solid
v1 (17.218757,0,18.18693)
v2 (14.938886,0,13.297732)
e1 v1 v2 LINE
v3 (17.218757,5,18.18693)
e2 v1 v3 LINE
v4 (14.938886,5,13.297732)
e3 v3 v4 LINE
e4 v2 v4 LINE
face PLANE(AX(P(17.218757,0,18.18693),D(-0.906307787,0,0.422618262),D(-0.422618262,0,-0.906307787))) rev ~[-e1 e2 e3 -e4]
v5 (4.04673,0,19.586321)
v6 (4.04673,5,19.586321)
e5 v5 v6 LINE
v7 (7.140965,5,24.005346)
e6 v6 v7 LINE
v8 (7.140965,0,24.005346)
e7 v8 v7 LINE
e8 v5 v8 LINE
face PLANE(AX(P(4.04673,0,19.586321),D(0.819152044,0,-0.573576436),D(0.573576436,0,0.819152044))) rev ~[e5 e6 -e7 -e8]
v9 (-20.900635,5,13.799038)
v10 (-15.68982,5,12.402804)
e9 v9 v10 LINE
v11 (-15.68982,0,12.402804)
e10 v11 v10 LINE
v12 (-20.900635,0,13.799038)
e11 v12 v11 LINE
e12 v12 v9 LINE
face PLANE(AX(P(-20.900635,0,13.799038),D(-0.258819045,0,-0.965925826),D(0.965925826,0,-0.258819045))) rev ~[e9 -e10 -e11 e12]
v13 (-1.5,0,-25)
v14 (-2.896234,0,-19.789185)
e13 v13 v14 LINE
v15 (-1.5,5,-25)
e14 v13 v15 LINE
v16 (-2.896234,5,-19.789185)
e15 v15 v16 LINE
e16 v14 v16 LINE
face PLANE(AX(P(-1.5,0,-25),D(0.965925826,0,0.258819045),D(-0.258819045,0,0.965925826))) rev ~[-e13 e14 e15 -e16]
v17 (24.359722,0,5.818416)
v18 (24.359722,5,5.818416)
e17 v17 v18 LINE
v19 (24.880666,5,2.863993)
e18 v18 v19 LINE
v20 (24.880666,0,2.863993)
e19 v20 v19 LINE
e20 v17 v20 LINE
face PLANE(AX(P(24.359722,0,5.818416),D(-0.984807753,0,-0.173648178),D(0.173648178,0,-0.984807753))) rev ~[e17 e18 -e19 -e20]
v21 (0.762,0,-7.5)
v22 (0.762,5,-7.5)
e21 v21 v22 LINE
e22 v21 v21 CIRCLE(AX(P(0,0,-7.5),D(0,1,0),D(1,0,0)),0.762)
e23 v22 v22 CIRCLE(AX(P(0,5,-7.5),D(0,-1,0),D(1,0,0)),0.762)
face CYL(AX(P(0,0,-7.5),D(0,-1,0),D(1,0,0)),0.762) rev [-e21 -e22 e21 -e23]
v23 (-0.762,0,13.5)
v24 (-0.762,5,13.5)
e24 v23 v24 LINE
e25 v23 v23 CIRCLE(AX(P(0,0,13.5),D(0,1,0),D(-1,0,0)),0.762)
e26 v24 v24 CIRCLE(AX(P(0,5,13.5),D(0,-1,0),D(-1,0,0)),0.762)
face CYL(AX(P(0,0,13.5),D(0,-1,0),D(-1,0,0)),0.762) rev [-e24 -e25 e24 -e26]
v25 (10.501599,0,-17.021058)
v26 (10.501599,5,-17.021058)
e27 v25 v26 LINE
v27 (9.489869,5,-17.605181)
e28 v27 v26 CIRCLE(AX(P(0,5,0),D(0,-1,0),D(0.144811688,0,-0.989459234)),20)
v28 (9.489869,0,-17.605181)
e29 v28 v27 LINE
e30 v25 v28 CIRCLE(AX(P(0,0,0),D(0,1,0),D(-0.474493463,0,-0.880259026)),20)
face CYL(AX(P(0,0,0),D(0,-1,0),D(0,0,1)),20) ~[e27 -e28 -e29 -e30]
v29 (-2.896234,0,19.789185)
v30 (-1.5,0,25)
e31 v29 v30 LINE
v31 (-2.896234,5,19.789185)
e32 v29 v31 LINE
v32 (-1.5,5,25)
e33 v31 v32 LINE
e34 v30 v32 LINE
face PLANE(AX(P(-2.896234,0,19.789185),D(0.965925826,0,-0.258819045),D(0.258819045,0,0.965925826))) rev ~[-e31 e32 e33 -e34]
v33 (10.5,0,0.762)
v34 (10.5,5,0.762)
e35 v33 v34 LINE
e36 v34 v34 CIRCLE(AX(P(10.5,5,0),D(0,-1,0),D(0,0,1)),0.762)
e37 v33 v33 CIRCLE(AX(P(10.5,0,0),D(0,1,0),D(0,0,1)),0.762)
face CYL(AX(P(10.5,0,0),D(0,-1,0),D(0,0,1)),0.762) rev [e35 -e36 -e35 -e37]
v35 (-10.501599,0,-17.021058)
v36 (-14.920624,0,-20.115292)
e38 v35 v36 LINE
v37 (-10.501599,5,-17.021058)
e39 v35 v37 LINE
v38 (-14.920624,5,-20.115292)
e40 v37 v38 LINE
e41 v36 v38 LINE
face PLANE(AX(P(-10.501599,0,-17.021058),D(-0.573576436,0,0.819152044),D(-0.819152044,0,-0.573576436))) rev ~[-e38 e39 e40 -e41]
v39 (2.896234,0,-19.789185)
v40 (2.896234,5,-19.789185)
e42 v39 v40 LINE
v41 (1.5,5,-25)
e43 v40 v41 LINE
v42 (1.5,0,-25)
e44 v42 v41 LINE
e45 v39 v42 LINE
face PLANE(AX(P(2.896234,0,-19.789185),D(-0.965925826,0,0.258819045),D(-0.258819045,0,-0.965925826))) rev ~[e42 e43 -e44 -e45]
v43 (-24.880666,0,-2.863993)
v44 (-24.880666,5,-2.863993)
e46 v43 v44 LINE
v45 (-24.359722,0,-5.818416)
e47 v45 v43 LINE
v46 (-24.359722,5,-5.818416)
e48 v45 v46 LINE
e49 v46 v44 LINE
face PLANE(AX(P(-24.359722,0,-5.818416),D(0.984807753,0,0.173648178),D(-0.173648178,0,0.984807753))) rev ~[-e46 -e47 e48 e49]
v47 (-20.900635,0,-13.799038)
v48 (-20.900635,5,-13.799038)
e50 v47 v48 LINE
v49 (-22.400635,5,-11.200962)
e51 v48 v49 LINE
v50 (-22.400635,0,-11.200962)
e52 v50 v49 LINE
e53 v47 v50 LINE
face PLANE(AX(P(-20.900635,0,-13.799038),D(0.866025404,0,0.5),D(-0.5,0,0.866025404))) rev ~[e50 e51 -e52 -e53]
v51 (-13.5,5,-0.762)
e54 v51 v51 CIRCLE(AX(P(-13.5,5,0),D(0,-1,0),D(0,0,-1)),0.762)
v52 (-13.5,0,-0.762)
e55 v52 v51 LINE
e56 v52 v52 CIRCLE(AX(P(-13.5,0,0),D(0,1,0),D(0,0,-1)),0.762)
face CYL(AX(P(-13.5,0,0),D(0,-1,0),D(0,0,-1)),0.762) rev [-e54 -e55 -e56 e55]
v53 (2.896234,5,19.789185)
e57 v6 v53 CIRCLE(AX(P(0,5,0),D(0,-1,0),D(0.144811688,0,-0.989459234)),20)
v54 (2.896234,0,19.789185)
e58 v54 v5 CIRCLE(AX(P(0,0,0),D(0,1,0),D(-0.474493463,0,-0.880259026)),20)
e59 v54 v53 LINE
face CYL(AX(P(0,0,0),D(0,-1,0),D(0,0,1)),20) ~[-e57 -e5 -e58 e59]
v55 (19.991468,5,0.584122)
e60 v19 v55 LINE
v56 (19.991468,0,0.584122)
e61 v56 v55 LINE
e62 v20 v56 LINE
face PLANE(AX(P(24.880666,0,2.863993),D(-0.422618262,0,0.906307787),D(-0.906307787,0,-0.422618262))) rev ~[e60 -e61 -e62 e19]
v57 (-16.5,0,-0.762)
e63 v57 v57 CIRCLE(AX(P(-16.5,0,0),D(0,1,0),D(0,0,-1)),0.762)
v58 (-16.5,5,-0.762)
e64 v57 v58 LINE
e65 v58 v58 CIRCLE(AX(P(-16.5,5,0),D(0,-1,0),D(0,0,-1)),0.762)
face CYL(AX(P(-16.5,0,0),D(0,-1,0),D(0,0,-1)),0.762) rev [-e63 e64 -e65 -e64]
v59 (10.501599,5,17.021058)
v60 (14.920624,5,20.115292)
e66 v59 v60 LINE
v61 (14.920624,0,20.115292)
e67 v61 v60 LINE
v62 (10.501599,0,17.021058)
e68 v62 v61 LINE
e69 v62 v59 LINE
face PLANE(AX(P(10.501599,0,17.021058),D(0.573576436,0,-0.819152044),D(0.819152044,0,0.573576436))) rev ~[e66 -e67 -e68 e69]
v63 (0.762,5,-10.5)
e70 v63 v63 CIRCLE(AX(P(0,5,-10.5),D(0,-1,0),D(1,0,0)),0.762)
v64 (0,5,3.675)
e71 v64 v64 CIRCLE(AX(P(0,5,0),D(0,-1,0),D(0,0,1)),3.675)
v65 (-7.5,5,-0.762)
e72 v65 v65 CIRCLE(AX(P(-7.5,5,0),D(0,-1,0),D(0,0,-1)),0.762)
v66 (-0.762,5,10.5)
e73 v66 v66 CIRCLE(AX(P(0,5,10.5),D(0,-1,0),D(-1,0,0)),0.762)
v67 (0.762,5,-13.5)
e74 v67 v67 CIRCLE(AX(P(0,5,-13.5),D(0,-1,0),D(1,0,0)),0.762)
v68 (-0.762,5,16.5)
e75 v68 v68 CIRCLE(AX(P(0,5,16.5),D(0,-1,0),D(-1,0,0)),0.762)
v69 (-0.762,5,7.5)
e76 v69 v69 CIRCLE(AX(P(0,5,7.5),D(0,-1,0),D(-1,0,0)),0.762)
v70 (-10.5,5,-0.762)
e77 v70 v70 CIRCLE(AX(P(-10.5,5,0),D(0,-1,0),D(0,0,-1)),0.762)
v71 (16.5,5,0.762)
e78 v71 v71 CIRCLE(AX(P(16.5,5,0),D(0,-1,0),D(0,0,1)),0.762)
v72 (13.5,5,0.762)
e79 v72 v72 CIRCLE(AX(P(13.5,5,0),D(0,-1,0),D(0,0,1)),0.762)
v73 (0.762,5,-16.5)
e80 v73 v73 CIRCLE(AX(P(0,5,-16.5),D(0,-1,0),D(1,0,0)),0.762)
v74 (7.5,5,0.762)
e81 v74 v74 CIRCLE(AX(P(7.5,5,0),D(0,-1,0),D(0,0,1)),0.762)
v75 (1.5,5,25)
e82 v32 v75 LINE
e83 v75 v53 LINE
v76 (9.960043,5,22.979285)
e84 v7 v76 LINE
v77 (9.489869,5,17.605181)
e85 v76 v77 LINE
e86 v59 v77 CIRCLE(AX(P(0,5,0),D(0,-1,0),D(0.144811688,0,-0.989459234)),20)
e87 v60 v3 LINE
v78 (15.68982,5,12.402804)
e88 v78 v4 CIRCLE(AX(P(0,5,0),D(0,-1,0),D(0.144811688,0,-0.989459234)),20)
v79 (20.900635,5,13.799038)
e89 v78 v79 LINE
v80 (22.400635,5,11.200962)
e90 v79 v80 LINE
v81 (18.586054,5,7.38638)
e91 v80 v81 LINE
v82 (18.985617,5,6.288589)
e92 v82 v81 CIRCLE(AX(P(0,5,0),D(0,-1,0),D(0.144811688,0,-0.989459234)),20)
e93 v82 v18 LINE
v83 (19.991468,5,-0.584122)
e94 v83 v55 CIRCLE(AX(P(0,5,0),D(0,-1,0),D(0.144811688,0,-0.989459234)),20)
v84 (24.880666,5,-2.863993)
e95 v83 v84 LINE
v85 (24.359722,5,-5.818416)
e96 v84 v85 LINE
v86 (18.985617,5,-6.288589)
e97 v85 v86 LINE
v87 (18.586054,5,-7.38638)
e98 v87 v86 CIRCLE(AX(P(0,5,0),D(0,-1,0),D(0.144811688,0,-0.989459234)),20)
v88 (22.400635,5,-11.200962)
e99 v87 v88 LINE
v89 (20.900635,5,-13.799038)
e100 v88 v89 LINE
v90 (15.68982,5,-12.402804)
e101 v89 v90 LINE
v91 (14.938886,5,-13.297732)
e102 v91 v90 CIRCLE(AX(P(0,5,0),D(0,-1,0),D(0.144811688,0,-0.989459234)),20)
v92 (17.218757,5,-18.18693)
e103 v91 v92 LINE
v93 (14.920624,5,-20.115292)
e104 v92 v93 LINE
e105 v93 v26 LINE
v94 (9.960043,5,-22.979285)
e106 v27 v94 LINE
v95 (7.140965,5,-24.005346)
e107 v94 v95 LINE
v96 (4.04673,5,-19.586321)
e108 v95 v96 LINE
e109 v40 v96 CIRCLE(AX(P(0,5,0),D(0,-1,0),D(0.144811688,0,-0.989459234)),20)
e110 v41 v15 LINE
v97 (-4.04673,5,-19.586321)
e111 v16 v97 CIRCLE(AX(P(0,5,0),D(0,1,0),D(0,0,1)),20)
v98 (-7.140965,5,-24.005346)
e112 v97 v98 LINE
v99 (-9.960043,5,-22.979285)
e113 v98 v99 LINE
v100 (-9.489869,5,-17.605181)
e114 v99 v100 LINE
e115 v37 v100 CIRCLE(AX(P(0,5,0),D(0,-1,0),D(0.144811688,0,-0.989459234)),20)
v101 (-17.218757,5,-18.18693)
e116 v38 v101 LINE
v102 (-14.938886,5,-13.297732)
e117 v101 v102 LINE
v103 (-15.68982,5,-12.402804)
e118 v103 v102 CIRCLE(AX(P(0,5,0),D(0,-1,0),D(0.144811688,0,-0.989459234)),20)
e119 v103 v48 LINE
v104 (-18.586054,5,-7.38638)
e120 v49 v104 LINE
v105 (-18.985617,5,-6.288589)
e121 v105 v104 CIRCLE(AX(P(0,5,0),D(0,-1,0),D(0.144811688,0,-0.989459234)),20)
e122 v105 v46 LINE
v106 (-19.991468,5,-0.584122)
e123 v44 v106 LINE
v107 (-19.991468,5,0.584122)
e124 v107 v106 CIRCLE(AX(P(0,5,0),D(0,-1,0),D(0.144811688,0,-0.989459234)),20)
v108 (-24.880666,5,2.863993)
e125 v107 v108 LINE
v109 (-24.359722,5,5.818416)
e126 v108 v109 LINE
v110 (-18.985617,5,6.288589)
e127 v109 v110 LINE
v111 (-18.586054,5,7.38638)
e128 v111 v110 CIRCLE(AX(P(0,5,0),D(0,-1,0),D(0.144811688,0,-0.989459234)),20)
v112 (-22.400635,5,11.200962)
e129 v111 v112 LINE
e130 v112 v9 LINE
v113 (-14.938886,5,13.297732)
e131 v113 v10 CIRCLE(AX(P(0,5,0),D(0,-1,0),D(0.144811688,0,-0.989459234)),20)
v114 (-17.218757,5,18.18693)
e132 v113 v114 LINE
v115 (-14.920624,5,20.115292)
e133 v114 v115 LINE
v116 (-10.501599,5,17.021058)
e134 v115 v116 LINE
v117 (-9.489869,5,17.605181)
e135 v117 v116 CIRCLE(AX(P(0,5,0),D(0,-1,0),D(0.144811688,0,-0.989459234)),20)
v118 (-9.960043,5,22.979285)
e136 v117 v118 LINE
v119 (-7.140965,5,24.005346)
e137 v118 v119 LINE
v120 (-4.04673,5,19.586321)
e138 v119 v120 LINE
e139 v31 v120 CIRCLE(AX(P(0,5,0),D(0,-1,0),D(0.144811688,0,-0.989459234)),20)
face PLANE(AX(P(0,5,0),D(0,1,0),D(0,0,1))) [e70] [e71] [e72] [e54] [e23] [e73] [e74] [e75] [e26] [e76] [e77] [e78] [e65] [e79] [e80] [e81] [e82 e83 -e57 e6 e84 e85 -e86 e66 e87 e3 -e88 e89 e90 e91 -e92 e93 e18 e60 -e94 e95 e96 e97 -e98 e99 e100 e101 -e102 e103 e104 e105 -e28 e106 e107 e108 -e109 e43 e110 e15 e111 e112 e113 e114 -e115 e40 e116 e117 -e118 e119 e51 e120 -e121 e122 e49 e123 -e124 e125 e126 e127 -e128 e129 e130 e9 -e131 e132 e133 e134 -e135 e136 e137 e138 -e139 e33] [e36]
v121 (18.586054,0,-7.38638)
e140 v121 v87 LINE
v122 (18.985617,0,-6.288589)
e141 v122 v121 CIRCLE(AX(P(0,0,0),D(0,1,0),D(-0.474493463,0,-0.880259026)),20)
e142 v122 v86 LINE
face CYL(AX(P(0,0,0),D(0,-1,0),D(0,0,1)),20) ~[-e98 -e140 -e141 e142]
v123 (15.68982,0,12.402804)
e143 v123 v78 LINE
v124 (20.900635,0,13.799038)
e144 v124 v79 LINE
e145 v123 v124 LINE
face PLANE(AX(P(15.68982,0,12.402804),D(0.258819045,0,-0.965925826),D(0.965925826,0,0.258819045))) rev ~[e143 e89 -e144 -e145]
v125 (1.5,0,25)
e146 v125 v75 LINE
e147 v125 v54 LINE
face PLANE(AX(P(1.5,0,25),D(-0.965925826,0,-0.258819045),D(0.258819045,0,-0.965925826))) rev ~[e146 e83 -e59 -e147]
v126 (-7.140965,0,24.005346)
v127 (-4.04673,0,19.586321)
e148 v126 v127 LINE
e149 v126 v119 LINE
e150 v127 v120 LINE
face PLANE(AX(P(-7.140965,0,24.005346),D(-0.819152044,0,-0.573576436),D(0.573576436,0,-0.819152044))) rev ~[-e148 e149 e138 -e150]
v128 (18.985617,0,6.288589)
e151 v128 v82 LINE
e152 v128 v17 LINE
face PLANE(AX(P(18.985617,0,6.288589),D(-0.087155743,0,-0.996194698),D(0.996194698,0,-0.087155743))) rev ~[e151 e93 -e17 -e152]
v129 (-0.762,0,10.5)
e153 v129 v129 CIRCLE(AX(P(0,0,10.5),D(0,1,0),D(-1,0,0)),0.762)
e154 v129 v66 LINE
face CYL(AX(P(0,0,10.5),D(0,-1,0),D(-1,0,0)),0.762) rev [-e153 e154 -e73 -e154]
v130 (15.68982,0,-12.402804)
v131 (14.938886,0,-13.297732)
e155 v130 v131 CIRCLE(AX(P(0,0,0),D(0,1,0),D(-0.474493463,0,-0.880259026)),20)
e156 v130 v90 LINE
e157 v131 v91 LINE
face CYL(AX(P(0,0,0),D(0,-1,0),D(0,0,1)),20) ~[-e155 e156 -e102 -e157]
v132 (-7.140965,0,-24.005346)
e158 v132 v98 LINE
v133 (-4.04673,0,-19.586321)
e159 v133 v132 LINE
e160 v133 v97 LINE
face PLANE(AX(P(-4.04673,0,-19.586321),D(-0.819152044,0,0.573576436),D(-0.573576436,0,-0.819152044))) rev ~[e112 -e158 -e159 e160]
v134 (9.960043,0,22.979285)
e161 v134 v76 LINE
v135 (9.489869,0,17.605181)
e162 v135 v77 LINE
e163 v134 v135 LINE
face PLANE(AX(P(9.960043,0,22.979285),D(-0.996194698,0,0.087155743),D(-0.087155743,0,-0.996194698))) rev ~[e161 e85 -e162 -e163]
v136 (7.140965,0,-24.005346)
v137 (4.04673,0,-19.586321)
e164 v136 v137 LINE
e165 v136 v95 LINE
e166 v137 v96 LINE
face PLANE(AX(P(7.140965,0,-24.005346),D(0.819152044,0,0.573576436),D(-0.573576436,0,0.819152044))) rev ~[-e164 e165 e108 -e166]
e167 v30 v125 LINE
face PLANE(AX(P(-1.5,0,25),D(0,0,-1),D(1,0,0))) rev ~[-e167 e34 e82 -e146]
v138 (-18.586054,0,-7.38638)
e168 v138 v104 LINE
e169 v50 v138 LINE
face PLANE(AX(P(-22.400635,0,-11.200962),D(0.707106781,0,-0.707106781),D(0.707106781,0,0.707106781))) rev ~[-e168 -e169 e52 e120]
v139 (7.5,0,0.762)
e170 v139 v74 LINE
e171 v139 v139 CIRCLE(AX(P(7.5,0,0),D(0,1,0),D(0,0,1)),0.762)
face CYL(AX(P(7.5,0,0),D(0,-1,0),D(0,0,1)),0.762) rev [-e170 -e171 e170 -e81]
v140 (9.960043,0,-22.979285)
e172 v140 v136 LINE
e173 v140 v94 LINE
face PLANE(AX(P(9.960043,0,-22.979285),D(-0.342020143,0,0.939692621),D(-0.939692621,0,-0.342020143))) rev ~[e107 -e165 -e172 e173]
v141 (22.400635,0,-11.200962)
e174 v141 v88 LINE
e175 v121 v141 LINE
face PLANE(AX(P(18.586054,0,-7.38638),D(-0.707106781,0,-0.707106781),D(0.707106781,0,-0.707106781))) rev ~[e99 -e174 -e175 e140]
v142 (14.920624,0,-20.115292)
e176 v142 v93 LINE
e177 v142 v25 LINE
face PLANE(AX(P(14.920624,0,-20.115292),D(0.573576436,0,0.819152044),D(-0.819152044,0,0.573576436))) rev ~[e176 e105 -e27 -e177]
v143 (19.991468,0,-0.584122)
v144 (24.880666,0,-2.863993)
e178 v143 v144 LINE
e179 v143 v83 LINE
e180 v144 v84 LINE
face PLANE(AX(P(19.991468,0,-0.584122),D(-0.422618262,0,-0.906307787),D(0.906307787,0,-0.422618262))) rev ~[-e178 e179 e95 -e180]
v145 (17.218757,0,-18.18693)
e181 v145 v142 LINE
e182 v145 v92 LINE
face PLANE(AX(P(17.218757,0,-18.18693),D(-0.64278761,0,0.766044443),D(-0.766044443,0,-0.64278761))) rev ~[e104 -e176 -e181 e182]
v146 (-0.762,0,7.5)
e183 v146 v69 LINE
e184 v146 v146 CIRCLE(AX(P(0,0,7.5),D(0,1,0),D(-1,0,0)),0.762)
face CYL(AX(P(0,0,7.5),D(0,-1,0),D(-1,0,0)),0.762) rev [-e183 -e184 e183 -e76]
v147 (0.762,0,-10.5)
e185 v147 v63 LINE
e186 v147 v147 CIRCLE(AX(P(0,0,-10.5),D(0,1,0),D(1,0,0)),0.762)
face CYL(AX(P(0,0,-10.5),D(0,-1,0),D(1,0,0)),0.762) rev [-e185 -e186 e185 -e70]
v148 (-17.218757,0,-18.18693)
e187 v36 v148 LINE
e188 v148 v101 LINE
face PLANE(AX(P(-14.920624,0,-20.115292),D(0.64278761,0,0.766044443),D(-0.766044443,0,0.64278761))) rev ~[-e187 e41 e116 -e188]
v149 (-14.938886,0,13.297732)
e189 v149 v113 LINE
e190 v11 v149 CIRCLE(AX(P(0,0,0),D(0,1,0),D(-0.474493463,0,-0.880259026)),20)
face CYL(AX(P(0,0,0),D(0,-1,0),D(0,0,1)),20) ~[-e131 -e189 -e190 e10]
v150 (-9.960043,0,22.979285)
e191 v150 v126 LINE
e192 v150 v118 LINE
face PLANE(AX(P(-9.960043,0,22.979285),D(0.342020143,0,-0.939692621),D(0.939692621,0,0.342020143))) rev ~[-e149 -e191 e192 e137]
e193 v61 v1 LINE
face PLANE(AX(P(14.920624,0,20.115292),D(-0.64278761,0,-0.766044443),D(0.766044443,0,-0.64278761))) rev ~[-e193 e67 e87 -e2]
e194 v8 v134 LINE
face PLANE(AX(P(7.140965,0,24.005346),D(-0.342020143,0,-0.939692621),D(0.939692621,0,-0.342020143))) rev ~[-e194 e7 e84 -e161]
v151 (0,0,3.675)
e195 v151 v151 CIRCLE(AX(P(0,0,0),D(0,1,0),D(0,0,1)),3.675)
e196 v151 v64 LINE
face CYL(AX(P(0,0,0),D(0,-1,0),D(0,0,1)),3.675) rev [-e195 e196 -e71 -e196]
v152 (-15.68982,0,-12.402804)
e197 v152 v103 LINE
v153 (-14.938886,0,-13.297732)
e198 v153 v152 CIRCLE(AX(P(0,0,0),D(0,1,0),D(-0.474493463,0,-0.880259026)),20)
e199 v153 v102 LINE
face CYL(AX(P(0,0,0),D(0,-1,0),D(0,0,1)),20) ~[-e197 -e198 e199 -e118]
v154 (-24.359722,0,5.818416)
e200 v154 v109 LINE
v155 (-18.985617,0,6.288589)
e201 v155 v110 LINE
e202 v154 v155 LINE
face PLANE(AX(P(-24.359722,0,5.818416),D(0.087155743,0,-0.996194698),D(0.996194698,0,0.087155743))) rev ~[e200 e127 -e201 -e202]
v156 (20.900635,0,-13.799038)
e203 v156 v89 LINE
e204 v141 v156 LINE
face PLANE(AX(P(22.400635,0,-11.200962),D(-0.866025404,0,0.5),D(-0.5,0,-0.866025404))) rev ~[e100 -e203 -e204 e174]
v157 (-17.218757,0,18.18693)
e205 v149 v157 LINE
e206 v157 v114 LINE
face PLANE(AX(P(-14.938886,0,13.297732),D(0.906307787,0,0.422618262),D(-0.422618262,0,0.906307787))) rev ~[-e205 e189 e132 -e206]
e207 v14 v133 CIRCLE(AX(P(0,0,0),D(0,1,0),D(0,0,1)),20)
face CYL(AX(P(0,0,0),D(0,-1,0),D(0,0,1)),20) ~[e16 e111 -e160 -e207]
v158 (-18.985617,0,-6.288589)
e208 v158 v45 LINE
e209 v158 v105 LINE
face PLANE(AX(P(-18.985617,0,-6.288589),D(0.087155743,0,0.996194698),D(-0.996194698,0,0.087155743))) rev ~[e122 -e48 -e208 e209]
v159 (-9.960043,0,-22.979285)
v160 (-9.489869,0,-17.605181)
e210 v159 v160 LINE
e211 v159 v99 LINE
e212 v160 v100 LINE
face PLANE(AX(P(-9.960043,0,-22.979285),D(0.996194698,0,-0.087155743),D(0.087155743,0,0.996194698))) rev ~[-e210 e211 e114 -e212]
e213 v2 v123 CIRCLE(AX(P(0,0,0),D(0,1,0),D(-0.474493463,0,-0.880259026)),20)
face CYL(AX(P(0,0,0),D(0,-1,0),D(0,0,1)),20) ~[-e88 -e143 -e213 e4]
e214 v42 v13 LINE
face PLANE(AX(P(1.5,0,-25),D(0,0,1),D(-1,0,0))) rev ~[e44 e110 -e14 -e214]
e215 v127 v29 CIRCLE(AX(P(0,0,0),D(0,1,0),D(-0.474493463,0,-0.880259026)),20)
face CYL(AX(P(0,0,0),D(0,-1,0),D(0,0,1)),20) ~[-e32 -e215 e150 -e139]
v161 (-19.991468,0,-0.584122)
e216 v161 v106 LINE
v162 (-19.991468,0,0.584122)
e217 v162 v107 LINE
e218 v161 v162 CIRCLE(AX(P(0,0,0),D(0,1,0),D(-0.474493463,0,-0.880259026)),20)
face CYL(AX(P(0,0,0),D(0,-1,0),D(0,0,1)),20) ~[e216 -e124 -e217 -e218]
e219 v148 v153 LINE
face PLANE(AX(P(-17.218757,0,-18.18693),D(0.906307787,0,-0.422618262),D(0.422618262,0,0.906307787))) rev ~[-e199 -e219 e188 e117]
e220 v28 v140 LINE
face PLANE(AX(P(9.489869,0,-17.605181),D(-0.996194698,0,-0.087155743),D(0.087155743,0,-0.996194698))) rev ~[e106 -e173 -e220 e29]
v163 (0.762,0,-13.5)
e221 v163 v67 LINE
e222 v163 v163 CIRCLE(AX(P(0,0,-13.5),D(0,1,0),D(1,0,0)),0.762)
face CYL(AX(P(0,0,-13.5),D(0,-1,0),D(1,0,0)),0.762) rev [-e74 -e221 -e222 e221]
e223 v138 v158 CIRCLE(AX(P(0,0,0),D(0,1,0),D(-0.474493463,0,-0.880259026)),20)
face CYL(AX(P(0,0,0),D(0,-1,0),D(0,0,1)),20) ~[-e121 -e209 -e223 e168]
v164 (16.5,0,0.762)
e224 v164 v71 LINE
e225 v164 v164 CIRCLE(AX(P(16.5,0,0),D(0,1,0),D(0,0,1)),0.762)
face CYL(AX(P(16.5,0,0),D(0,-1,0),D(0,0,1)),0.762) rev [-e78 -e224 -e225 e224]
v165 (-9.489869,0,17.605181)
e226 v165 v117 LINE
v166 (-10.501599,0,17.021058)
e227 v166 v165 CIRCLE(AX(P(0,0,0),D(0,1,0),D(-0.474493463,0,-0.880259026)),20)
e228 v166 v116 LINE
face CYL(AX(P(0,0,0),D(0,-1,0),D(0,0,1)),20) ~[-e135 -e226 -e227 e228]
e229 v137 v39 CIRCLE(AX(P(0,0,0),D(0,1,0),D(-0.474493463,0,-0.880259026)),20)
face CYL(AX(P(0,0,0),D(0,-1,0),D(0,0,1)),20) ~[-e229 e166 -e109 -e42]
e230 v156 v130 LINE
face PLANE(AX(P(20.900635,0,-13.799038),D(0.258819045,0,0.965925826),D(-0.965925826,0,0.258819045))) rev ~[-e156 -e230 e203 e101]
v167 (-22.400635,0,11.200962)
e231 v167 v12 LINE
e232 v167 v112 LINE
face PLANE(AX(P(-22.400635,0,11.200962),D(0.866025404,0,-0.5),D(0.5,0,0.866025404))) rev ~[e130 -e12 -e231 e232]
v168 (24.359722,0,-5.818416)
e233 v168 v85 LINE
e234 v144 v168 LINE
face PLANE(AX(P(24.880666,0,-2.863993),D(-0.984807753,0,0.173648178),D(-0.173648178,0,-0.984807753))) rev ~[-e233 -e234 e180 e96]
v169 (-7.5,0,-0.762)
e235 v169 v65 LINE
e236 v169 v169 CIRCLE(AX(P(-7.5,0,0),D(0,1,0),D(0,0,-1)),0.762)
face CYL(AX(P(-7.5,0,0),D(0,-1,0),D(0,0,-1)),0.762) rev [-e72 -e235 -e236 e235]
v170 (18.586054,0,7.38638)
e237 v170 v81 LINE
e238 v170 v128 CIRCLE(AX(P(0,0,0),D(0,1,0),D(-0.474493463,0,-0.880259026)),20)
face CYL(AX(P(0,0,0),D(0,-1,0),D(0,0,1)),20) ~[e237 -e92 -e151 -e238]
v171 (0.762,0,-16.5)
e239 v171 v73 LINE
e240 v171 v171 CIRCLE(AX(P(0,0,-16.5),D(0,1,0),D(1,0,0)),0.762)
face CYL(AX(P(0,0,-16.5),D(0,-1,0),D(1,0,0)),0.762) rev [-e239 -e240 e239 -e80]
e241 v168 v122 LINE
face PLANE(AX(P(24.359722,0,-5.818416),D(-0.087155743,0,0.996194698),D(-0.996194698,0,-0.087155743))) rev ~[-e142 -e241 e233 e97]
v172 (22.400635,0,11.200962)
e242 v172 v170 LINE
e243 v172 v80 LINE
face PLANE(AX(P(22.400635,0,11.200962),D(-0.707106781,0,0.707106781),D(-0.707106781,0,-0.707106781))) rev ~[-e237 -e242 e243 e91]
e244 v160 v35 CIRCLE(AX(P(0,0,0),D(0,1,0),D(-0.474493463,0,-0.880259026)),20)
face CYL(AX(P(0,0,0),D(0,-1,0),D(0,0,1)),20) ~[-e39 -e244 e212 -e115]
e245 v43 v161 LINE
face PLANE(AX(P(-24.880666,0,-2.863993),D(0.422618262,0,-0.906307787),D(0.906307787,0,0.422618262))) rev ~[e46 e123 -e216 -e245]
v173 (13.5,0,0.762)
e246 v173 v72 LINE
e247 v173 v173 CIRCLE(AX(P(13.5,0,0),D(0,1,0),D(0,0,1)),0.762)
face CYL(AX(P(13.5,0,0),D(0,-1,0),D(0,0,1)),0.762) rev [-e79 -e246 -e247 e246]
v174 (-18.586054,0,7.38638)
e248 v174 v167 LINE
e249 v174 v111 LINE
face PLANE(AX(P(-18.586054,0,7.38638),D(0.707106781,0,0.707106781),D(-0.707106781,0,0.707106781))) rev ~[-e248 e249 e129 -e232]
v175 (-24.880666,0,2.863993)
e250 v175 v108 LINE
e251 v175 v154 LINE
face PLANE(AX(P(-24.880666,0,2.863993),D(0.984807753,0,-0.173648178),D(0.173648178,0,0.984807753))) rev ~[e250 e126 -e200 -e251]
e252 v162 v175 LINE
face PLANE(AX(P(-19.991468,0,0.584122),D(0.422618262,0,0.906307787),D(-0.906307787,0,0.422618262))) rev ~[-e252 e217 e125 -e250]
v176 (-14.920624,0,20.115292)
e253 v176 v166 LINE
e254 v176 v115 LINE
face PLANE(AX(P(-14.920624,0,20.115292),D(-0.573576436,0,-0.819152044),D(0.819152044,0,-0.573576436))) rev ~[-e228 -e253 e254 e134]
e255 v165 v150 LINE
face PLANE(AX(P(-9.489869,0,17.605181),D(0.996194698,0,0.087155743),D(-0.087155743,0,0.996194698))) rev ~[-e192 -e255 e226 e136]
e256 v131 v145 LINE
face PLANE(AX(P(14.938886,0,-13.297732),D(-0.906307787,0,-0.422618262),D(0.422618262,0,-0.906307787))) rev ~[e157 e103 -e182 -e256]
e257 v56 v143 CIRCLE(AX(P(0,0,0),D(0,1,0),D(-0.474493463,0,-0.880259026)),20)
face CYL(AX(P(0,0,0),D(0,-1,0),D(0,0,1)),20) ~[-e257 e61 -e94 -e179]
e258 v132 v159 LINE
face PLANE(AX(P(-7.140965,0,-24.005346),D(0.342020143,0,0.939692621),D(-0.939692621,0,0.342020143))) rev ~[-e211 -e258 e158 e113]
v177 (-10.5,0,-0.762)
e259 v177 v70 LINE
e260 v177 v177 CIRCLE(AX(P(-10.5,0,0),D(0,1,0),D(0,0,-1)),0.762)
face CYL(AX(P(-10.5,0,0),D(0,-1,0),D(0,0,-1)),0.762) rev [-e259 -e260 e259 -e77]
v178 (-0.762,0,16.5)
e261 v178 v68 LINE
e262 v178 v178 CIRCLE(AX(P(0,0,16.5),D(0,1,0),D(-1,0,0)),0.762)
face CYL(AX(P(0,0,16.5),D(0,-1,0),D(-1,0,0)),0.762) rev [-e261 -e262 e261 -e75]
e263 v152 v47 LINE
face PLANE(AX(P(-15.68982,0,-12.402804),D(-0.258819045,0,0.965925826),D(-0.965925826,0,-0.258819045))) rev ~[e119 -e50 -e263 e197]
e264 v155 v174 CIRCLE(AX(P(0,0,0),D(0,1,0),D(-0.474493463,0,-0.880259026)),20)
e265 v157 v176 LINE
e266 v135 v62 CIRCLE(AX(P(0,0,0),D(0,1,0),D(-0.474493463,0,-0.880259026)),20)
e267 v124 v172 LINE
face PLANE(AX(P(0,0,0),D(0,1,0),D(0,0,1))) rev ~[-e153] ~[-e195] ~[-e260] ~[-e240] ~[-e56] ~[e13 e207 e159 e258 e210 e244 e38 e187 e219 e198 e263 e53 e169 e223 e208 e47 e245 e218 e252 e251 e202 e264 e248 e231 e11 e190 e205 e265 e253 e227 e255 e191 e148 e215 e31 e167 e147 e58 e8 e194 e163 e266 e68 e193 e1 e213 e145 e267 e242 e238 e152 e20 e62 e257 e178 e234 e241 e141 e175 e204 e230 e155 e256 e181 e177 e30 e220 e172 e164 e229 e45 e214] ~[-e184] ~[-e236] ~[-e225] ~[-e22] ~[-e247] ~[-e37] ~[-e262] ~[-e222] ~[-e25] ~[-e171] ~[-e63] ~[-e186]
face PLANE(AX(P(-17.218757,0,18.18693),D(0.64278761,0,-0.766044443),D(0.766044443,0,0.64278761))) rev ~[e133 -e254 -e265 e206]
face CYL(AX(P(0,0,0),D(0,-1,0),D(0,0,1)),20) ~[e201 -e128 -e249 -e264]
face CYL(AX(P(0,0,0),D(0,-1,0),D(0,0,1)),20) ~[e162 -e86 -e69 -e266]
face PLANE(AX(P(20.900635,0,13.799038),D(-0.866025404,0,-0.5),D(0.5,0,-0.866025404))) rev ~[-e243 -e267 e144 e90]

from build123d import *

# Parameters (mm, degrees)
SKETCH2_R           = 20
BOSS_EXTRUDE1_DEPTH = 5
BOSS_EXTRUDE2_DEPTH = 5
CIRPATTERN1_COUNT   = 18
SKETCH3_R           = 3.675
SKETCH3_R_2         = 0.762
CUT_EXTRUDE1_DEPTH  = 36.623693592
CIRPATTERN2_COUNT   = 4


with BuildPart() as part:
    # Sketch2 → Boss-Extrude1 (new body)
    with BuildSketch(Plane(origin=(0, 0, 0), x_dir=(1, 0, 0), z_dir=(0, 1, 0))):
        Circle(SKETCH2_R)
    extrude(amount=BOSS_EXTRUDE1_DEPTH)

    # Sketch2<3> → Boss-Extrude2 (add)
    with BuildSketch(Plane(origin=(0, 0, 0), x_dir=(1, 0, 0), z_dir=(0, 1, 0))):
        with BuildLine():
            ThreePointArc((-2.896233759, 19.789184673), (0, 20), (2.896233759, 19.789184673))
            Line((2.896233759, 19.789184673), (1.5, 25))
            Line((1.5, 25), (-1.5, 25))
            Line((-1.5, 25), (-2.896233759, 19.789184673))
        make_face()
    boss_extrude2 = extrude(amount=BOSS_EXTRUDE2_DEPTH)

    # CirPattern1: Boss-Extrude2 ×18 about axis
    cirpattern1_axis = Axis((0, 5, 0), (0, -1, 0))
    for i in range(1, CIRPATTERN1_COUNT):
        add(boss_extrude2.rotate(cirpattern1_axis, i * 360 / CIRPATTERN1_COUNT))

    # Sketch3 → Cut-Extrude1 (cut, through all)
    with BuildSketch(Plane(origin=(0, 0, 0), x_dir=(1, 0, 0), z_dir=(0, 1, 0))):
        Circle(SKETCH3_R)
        with Locations((7.5, 0)):
            Circle(SKETCH3_R_2)
        with Locations((10.5, 0)):
            Circle(SKETCH3_R_2)
        with Locations((13.5, 0)):
            Circle(SKETCH3_R_2)
        with Locations((16.5, 0)):
            Circle(SKETCH3_R_2)
    cut_extrude1 = extrude(amount=CUT_EXTRUDE1_DEPTH, mode=Mode.SUBTRACT)

    # CirPattern2: Cut-Extrude1 ×4 about axis
    cirpattern2_axis = Axis((0, 5, 0), (0, -1, 0))
    for i in range(1, CIRPATTERN2_COUNT):
        add(cut_extrude1.rotate(cirpattern2_axis, i * 360 / CIRPATTERN2_COUNT), mode=Mode.SUBTRACT)


solid = part.part
